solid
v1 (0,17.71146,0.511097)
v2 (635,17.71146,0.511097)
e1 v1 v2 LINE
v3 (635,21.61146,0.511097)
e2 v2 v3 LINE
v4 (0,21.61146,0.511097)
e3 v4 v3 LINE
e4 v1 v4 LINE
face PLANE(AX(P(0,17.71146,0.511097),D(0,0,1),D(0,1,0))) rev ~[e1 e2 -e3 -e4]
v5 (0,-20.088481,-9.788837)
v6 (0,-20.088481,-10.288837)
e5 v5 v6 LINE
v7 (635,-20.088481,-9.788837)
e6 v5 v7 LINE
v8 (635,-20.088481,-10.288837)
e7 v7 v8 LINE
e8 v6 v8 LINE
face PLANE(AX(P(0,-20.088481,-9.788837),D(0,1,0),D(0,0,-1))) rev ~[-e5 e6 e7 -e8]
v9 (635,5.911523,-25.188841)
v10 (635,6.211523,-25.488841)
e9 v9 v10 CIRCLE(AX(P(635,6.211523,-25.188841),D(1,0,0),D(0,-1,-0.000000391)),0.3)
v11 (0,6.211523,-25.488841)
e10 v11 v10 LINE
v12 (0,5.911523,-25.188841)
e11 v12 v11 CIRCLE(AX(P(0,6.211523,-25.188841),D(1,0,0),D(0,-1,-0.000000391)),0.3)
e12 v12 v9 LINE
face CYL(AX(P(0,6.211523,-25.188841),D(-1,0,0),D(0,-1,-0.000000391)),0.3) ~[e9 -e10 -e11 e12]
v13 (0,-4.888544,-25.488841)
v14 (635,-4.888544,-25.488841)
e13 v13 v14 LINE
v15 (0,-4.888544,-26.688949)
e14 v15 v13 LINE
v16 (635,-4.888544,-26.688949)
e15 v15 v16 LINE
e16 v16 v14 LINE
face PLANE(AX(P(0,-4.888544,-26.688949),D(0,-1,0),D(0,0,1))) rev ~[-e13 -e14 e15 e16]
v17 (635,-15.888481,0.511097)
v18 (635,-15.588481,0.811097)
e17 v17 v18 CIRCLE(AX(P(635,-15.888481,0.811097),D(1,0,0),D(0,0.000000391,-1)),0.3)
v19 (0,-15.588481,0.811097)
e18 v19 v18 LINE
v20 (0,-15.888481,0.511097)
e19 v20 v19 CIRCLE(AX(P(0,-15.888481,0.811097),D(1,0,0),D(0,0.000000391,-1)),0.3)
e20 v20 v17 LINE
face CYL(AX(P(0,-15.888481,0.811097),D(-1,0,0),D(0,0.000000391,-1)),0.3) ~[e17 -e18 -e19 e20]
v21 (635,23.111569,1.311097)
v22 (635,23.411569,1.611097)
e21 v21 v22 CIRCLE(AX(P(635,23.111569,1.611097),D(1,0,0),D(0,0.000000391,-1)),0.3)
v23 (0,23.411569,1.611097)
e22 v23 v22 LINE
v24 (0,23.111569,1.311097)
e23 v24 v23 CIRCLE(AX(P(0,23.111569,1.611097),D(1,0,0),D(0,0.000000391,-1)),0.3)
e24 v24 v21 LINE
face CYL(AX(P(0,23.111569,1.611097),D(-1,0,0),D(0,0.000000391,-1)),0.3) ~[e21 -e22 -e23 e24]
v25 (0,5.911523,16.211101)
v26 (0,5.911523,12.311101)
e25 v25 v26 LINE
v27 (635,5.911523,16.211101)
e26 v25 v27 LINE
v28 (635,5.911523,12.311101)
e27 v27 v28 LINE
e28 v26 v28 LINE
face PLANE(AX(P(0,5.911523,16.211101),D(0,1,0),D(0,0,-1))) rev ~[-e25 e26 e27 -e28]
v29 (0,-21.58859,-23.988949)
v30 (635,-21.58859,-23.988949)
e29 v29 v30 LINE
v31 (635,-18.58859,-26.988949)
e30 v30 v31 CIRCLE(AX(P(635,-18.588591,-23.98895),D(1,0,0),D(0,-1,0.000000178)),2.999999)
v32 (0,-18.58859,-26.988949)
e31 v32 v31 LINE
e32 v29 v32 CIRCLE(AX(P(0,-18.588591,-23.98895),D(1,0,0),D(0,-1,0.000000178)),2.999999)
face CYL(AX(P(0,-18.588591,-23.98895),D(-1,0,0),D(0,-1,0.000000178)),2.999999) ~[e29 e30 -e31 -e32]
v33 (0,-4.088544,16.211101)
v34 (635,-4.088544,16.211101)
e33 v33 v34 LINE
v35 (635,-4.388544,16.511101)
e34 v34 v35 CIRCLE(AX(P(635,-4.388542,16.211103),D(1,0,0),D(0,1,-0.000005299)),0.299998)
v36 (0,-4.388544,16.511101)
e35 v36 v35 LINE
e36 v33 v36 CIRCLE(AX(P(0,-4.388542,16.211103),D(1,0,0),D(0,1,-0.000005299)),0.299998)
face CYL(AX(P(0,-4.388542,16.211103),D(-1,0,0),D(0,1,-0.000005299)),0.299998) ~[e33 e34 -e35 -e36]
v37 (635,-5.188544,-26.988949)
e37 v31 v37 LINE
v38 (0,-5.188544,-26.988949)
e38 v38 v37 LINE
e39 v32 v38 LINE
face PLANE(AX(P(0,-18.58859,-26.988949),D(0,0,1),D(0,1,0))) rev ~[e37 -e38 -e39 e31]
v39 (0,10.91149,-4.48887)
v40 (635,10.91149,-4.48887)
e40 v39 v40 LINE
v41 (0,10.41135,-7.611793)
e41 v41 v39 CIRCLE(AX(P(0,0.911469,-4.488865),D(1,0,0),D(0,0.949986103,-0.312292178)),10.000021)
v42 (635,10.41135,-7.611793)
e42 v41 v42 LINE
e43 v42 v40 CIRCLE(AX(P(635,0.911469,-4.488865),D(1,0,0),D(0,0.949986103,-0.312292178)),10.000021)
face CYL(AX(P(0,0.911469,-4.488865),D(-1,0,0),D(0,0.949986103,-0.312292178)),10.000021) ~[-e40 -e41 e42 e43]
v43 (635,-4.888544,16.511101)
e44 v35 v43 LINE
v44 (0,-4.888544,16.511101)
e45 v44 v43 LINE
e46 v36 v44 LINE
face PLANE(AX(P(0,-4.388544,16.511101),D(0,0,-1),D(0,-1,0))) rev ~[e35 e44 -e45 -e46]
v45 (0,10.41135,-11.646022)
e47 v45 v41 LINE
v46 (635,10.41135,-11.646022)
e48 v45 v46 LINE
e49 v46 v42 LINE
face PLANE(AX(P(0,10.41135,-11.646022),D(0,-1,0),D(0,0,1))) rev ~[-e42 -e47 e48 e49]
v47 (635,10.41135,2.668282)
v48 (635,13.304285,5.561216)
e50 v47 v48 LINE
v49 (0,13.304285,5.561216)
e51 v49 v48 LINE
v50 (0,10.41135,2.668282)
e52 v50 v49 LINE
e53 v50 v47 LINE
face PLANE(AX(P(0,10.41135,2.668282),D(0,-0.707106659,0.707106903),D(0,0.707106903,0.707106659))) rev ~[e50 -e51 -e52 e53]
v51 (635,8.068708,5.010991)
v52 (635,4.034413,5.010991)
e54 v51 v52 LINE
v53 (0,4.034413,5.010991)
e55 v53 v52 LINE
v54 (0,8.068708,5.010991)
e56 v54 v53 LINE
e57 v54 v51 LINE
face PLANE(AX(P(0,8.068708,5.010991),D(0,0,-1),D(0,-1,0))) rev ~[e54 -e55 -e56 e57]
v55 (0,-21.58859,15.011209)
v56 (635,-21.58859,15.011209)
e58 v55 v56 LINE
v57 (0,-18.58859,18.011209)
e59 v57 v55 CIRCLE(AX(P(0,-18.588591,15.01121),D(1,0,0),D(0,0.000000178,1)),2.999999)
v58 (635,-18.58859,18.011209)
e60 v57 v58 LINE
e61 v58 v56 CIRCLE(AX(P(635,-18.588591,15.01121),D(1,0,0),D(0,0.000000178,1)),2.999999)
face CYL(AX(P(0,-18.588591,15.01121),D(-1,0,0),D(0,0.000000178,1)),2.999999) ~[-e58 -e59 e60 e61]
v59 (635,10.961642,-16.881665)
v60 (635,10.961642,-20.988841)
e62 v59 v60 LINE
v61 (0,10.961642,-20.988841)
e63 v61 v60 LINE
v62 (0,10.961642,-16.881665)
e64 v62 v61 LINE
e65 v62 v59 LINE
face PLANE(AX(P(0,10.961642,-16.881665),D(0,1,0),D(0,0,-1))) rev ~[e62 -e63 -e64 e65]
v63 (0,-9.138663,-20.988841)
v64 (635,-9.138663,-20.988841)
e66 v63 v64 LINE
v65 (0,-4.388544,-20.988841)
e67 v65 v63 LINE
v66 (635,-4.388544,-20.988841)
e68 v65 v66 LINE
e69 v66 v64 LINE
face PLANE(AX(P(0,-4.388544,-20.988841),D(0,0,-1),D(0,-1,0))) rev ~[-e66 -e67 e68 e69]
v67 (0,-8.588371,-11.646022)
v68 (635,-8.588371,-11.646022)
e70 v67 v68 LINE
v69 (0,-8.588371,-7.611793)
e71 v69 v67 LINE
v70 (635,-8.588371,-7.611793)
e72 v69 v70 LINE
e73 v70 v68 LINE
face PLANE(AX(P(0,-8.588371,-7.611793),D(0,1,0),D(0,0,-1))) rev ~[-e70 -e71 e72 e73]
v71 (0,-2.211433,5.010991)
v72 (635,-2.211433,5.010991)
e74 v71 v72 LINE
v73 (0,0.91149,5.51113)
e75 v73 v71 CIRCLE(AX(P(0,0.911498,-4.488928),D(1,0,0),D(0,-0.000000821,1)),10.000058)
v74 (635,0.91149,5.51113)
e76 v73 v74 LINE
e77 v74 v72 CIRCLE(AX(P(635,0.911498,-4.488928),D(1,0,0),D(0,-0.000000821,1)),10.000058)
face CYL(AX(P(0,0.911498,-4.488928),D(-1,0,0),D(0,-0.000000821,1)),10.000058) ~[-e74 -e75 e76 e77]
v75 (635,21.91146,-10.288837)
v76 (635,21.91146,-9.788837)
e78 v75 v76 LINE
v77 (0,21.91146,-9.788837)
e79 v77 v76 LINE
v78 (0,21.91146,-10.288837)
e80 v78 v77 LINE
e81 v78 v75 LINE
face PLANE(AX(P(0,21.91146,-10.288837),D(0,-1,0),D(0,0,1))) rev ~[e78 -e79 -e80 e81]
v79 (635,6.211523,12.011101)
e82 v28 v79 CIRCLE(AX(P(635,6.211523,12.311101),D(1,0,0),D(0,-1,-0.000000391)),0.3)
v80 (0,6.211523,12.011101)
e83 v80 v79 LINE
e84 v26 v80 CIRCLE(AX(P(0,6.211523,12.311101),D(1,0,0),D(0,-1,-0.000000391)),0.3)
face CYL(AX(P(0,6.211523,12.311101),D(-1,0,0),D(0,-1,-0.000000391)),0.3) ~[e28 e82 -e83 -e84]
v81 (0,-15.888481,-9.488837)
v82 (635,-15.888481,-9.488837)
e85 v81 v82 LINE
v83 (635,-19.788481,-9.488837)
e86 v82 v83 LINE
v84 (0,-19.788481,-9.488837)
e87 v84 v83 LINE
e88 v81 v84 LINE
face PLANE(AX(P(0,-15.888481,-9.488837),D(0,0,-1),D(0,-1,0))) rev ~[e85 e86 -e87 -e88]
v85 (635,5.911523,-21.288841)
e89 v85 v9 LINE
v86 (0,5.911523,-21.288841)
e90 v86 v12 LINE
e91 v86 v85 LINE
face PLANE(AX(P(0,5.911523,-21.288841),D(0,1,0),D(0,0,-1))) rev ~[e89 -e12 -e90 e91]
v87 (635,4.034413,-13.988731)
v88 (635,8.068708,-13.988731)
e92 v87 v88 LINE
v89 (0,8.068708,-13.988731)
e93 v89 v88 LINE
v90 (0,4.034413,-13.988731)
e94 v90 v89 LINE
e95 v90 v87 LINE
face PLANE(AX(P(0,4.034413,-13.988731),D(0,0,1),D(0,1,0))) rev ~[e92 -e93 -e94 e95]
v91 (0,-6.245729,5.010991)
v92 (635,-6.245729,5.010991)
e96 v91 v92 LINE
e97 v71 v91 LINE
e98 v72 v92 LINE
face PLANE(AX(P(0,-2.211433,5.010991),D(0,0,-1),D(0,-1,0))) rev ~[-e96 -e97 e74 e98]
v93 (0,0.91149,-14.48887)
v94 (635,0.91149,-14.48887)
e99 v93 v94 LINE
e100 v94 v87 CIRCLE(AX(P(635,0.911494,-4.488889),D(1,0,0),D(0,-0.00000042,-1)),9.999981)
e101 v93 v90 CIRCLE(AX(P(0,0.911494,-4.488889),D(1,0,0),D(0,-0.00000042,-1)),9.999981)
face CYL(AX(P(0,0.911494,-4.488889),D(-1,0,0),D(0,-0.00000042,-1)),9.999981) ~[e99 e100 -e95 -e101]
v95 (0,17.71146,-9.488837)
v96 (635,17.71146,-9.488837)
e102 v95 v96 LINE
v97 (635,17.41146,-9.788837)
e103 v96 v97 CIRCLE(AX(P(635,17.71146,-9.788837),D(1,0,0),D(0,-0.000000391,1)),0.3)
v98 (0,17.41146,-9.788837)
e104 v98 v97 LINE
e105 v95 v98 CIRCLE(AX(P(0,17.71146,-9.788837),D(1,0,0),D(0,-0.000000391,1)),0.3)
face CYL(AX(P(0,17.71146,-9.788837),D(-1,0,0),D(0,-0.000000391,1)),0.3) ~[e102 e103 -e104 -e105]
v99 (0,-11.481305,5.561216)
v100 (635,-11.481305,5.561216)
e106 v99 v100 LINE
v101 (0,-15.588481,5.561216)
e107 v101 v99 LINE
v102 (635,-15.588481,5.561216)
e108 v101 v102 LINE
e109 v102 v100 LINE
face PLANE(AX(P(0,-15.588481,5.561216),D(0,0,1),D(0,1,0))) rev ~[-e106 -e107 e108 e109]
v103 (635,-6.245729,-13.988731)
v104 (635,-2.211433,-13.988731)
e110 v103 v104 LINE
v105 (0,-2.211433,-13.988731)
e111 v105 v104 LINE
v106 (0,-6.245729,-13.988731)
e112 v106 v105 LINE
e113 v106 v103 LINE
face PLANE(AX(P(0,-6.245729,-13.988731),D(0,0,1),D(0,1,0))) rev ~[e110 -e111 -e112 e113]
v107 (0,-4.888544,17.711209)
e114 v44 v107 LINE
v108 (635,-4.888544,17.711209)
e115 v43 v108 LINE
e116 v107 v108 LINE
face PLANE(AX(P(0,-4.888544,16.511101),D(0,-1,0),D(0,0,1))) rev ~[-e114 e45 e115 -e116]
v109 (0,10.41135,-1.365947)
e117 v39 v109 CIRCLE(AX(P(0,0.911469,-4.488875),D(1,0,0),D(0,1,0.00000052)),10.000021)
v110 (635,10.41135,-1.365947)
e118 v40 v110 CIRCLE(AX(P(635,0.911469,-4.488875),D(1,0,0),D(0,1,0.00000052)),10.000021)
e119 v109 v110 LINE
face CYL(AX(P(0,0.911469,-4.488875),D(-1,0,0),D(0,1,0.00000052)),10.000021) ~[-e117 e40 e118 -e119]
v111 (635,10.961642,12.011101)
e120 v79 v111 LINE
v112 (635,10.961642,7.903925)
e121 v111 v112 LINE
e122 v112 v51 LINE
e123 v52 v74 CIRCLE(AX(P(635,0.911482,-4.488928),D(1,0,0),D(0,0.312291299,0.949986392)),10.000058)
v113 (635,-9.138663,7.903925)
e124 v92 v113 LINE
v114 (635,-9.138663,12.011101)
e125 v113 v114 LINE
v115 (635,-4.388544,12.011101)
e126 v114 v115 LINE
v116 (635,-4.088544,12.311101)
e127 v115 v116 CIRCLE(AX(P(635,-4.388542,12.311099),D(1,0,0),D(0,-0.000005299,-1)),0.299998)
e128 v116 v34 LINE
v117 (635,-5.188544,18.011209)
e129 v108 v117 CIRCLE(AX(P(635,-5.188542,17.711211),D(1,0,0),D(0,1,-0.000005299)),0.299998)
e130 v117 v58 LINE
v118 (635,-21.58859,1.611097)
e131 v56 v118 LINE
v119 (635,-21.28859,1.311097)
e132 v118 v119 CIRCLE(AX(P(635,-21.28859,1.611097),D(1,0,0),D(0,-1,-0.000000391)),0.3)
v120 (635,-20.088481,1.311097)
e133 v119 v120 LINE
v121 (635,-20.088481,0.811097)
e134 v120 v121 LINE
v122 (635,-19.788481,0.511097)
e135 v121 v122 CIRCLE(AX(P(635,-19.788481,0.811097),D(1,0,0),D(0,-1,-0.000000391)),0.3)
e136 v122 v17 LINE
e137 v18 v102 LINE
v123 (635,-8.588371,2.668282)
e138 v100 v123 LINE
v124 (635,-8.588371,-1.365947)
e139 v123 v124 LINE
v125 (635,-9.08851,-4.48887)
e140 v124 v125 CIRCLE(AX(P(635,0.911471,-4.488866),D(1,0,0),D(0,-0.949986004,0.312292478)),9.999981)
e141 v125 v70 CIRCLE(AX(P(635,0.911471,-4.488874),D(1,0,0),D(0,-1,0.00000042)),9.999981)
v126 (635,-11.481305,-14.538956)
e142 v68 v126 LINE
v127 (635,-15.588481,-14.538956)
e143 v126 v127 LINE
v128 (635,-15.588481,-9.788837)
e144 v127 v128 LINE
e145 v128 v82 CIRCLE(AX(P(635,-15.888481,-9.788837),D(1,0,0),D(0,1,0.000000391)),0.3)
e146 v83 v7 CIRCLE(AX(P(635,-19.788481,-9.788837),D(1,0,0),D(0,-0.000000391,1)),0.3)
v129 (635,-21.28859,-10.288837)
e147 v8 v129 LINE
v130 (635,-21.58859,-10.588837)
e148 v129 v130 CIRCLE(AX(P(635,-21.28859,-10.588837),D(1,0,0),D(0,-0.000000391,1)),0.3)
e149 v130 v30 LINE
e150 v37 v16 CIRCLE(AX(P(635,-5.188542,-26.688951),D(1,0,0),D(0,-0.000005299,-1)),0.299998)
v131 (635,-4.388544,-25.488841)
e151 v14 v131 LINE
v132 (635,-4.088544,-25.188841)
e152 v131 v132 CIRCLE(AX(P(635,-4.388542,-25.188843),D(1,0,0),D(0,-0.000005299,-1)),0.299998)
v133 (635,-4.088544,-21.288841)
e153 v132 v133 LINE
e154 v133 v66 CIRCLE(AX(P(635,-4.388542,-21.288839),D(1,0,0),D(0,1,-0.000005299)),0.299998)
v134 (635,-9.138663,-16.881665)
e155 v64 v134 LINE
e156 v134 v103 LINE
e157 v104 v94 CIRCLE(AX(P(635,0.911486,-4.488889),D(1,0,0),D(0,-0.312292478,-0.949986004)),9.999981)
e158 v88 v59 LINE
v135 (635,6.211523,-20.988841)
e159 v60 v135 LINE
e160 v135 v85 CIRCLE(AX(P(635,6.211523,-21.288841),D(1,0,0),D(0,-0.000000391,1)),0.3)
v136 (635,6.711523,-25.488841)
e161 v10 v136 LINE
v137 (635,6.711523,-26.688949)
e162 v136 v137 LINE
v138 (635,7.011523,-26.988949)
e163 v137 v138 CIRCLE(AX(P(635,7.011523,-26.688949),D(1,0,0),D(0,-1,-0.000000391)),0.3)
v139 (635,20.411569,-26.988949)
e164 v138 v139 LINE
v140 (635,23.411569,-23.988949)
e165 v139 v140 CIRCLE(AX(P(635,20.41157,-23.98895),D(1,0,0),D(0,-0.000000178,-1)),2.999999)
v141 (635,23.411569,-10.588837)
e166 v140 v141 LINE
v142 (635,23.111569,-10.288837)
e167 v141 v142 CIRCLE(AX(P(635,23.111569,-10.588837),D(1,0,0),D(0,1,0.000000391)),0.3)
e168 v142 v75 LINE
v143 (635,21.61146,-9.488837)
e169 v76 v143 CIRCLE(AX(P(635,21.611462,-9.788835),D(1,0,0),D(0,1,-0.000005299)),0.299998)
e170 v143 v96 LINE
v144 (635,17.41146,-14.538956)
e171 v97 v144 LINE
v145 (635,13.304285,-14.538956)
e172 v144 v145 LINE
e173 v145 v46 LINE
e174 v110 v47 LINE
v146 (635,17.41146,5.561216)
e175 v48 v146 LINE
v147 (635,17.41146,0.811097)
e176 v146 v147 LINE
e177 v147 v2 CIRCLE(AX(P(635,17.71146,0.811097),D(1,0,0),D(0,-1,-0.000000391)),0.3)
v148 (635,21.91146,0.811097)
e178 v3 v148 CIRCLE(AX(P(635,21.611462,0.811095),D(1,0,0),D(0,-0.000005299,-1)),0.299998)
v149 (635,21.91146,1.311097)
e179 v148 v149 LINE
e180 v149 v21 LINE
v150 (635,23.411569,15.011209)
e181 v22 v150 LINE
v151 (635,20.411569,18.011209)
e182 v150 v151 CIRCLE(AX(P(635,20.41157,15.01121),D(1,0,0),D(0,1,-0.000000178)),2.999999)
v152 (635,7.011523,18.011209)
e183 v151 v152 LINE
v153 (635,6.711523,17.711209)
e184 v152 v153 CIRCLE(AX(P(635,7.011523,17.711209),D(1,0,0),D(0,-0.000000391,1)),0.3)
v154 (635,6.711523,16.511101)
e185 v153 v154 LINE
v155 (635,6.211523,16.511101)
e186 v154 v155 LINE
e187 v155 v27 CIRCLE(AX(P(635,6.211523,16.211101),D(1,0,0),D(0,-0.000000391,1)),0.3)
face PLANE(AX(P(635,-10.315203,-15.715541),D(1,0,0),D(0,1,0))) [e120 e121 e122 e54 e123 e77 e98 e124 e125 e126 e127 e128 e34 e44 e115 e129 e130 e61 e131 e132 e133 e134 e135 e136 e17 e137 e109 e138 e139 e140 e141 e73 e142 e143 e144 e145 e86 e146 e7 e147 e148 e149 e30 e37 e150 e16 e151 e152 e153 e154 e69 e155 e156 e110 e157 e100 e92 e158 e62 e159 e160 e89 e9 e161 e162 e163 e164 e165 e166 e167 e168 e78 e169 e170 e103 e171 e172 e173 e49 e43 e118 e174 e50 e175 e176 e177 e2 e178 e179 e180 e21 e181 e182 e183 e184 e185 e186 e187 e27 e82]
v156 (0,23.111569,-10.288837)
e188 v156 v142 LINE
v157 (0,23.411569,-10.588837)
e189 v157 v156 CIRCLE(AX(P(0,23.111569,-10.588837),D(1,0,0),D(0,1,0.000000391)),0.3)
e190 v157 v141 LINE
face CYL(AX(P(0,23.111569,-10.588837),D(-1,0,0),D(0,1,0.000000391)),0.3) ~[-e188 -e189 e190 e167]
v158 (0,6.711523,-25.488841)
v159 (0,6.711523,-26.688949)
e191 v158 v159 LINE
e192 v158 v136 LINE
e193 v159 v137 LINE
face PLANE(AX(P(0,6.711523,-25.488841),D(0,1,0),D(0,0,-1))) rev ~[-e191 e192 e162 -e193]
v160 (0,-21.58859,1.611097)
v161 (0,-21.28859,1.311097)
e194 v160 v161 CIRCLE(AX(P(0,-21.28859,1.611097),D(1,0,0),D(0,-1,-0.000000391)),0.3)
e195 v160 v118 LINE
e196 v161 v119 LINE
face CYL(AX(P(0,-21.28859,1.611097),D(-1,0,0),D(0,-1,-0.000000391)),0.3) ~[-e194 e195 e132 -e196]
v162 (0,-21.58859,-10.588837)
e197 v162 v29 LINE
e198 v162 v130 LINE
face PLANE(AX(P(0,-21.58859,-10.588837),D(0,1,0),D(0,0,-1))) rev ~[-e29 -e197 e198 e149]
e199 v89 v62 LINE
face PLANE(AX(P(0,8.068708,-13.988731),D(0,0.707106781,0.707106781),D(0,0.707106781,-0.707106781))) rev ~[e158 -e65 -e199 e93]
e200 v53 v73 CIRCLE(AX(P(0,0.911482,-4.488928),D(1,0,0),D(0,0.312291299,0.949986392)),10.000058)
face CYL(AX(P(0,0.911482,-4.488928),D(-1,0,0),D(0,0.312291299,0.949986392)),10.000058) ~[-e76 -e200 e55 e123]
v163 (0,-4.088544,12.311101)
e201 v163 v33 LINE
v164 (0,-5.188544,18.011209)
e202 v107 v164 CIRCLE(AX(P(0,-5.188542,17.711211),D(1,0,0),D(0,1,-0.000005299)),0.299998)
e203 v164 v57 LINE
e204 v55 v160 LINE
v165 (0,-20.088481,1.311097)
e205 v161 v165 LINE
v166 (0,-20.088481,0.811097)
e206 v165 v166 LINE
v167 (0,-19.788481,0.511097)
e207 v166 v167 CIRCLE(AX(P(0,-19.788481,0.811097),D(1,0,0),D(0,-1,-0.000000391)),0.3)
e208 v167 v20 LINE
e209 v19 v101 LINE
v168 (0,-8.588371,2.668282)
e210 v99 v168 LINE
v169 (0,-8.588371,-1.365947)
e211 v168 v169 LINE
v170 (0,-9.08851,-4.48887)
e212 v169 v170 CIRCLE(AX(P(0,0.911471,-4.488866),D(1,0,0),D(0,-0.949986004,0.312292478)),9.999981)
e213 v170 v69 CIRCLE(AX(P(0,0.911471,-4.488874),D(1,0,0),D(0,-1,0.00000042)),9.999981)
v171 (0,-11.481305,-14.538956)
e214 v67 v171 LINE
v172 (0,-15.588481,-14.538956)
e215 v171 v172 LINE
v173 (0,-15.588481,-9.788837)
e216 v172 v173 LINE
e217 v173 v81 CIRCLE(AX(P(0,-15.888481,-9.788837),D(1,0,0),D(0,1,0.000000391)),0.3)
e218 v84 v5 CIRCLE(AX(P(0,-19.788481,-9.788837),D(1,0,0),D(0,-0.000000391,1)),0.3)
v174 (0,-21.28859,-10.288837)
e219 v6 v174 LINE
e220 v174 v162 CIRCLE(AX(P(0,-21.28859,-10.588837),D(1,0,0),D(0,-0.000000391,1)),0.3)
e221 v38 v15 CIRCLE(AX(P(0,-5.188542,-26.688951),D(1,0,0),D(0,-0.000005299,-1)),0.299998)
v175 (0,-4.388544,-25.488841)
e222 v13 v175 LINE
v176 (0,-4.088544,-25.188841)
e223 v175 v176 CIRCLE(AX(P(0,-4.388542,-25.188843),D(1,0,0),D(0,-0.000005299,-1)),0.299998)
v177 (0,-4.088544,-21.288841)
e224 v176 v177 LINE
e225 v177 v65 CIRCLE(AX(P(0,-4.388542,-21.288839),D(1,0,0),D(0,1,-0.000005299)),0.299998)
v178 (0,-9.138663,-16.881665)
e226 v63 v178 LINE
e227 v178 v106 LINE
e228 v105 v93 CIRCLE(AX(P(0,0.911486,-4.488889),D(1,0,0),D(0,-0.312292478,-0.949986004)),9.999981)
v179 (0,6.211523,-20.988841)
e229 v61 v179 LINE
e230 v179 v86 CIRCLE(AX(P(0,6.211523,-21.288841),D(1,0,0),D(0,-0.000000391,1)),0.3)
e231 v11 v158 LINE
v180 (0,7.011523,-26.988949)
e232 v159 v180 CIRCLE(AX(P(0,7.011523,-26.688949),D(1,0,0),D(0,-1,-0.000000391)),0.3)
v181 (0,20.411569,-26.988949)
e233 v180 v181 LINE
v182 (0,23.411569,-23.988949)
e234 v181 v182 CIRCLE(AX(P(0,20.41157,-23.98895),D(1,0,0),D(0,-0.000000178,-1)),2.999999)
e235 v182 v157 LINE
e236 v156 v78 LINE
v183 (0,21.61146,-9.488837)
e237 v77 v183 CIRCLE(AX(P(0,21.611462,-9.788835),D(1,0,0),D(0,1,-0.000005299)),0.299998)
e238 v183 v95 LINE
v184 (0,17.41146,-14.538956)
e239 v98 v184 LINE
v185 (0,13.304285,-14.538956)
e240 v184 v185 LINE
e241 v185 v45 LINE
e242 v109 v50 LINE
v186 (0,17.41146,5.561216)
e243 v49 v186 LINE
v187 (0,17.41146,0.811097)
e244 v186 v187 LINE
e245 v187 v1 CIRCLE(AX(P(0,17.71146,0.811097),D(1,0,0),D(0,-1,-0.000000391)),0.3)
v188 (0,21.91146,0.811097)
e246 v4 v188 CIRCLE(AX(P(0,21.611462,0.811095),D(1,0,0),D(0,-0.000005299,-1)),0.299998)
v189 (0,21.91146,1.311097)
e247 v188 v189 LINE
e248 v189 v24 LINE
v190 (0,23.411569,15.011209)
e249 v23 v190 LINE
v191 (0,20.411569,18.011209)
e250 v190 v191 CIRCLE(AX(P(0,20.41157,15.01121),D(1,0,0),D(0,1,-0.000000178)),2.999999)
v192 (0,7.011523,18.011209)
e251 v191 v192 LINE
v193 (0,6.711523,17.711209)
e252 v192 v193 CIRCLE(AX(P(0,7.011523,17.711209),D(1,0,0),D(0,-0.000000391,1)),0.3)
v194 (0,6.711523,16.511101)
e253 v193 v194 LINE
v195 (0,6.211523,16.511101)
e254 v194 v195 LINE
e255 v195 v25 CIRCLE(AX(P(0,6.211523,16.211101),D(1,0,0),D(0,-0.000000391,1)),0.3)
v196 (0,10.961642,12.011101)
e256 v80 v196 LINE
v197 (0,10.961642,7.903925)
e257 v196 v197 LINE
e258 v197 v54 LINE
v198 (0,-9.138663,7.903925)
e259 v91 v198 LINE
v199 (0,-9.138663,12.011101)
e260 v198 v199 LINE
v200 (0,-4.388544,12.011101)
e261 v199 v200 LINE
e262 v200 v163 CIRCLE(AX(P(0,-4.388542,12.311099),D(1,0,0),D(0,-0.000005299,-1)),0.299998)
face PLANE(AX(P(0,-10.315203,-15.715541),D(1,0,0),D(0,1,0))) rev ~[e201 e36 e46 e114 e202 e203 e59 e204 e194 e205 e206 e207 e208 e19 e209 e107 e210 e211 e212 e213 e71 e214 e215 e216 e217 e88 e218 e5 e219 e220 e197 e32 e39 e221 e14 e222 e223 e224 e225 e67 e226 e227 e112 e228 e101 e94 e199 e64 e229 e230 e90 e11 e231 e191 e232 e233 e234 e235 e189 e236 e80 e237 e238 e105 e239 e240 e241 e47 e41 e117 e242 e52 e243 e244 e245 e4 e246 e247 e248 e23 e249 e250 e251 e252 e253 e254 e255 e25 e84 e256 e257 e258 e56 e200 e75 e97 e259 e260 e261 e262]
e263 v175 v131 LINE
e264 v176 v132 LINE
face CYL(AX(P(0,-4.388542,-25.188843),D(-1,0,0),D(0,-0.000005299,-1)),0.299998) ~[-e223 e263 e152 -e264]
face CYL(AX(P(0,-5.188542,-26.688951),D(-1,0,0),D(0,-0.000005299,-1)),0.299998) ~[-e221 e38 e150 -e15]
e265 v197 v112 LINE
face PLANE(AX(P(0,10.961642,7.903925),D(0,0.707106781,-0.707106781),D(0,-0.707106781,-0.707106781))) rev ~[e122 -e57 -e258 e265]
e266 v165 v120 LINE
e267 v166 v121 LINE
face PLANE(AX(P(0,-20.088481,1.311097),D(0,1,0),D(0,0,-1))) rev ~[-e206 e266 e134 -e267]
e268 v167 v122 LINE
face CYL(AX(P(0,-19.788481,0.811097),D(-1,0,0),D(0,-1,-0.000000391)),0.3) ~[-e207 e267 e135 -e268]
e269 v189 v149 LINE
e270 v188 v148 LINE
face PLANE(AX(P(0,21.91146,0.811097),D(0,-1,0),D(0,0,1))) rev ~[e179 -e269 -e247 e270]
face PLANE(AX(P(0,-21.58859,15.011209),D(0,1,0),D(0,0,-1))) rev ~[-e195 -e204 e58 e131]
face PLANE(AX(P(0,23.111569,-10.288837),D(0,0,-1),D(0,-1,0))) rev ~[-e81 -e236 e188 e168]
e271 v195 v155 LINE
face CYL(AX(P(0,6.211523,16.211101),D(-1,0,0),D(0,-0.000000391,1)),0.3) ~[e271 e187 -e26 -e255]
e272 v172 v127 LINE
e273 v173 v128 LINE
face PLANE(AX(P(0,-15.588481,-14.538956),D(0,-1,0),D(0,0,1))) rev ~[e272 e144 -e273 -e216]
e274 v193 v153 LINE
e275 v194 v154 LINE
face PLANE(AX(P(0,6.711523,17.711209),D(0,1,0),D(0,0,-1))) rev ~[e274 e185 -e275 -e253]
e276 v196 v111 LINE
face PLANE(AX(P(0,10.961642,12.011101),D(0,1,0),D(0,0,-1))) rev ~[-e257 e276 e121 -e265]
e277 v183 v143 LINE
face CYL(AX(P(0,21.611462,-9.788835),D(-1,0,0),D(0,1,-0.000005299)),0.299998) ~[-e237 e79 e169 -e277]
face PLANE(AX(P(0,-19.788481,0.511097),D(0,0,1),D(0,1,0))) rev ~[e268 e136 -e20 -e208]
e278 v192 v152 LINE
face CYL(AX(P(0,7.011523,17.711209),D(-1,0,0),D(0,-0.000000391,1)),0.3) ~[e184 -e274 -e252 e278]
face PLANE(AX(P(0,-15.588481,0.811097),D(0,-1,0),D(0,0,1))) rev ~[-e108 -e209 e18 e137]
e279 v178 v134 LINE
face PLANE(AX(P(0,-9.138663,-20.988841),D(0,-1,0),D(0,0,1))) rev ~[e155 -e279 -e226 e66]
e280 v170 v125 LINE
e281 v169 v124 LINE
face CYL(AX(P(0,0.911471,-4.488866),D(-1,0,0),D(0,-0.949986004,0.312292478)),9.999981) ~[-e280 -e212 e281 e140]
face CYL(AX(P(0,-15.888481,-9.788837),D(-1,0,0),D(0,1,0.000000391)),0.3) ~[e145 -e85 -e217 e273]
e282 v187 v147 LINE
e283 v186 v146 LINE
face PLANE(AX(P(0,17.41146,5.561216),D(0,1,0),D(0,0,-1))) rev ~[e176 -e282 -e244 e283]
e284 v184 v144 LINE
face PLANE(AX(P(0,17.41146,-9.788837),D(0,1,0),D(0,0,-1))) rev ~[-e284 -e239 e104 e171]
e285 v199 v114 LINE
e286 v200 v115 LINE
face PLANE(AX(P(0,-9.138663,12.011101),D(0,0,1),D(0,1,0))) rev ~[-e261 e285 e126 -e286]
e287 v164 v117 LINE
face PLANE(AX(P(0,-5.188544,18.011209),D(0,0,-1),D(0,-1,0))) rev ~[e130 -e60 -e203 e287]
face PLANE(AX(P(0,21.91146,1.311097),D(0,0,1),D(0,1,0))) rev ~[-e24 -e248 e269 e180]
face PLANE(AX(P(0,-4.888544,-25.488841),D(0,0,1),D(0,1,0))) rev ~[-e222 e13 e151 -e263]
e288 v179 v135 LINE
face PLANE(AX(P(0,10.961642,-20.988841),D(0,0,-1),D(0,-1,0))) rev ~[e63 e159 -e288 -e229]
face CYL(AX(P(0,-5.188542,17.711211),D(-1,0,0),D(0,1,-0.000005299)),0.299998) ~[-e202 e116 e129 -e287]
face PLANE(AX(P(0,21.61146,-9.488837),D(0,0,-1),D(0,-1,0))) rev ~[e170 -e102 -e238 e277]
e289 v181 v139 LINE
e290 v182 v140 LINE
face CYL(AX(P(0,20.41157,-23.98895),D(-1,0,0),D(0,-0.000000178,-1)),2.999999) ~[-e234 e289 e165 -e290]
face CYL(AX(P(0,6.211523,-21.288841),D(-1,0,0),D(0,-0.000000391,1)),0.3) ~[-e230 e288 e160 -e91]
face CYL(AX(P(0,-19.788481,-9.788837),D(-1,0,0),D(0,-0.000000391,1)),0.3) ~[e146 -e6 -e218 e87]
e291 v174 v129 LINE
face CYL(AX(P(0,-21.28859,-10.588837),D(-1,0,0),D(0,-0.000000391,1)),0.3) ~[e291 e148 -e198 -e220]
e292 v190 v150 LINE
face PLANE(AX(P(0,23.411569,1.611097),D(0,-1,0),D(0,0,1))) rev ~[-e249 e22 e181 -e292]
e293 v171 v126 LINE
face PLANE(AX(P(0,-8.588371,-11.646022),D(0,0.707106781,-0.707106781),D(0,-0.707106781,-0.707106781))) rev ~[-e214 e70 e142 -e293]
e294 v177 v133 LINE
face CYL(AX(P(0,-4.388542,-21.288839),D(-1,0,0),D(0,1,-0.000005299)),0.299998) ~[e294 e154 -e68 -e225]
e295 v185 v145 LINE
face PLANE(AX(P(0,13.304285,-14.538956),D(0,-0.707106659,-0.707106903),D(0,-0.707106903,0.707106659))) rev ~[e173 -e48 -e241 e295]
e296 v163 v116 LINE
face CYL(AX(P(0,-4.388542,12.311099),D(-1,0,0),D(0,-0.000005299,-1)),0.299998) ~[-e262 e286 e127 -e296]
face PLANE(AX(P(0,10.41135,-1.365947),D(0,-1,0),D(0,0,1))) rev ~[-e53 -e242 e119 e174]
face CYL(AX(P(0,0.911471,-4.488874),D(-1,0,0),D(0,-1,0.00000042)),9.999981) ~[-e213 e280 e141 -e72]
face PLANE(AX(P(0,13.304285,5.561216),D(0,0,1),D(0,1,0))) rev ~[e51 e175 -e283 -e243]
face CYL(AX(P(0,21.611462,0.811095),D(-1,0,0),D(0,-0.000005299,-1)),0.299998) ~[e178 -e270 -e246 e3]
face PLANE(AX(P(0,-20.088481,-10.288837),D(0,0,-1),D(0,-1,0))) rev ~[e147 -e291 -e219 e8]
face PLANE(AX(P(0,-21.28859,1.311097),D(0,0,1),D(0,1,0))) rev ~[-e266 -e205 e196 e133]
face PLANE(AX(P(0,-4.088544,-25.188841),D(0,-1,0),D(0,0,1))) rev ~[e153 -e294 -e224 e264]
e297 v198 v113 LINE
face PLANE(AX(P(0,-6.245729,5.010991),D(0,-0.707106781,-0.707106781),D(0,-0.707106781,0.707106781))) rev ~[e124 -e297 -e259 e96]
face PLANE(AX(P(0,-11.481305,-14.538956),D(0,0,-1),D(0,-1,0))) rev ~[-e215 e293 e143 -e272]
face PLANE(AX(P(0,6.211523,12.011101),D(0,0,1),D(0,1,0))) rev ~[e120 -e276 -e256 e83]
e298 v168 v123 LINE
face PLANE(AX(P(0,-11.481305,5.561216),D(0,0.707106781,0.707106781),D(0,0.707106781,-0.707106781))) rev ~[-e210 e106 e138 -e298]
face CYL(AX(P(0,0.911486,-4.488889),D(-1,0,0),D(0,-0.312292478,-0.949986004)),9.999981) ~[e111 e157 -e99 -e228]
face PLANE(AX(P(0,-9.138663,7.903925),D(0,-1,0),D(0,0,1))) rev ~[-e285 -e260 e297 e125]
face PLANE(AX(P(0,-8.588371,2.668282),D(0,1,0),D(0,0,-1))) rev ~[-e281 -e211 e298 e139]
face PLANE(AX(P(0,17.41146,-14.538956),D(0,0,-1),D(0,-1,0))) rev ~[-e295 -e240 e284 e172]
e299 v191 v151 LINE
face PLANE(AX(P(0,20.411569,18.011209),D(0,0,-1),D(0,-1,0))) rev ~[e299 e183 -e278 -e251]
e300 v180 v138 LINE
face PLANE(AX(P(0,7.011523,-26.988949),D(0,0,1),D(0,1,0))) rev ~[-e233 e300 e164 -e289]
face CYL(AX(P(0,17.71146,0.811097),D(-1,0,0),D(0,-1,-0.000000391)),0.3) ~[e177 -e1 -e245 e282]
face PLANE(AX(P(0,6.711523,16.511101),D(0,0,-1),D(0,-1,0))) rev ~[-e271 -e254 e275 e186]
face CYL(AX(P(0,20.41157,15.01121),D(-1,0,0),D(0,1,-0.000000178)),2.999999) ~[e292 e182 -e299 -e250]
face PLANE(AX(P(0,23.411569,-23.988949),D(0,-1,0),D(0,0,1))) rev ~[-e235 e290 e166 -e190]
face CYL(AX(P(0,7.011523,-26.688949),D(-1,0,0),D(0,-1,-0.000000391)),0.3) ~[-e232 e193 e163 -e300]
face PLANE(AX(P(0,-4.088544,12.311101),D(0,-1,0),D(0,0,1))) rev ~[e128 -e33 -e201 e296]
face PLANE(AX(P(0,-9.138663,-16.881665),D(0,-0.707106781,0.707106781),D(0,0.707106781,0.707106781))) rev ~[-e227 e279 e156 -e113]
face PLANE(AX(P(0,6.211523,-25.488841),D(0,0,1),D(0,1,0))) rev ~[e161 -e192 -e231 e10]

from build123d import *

# Parameters (mm, degrees)
F1_DEPTH = 635


with BuildPart() as f1:
    # F0 (on Right) → F1 (new body)
    with BuildSketch(Plane.YZ):
        with BuildLine():
            Line((-20.088481, -9.788837), (-20.088481, -10.288837))
            Line((-20.088481, -10.288837), (-21.28859, -10.288837))
            ThreePointArc((-21.28859, -10.288837), (-21.500722, -10.376705), (-21.58859, -10.588837))
            Line((-21.58859, -10.588837), (-21.58859, -23.988949))
            ThreePointArc((-21.58859, -23.988949), (-20.70991, -26.11027), (-18.58859, -26.988949))
            Line((-18.58859, -26.988949), (-5.188544, -26.988949))
            ThreePointArc((-5.188544, -26.988949), (-4.976411, -26.901081), (-4.888544, -26.688949))
            Line((-4.888544, -26.688949), (-4.888544, -25.488841))
            Line((-4.888544, -25.488841), (-4.388544, -25.488841))
            ThreePointArc((-4.388544, -25.488841), (-4.176411, -25.400973), (-4.088544, -25.188841))
            Line((-4.088544, -25.188841), (-4.088544, -21.288841))
            ThreePointArc((-4.088544, -21.288841), (-4.176411, -21.076709), (-4.388544, -20.988841))
            Line((-4.388544, -20.988841), (-9.138663, -20.988841))
            Line((-9.138663, -20.988841), (-9.138663, -16.881665))
            Line((-9.138663, -16.881665), (-6.245729, -13.988731))
            Line((-6.245729, -13.988731), (-2.211433, -13.988731))
            ThreePointArc((-2.211433, -13.988731), (-0.669869, -14.363044), (0.91149, -14.48887))
            Line((0.91149, -14.48887), (0.91149, -4.48887))
            Line((0.91149, -4.48887), (-9.08851, -4.48887))
            ThreePointArc((-9.08851, -4.48887), (-8.962684, -6.070229), (-8.588371, -7.611793))
            Line((-8.588371, -7.611793), (-8.588371, -11.646022))
            Line((-8.588371, -11.646022), (-11.481305, -14.538956))
            Line((-11.481305, -14.538956), (-15.588481, -14.538956))
            Line((-15.588481, -14.538956), (-15.588481, -9.788837))
            ThreePointArc((-15.588481, -9.788837), (-15.676349, -9.576705), (-15.888481, -9.488837))
            Line((-15.888481, -9.488837), (-19.788481, -9.488837))
            ThreePointArc((-19.788481, -9.488837), (-20.000613, -9.576705), (-20.088481, -9.788837))
        make_face()
        with BuildLine():
            ThreePointArc((-8.588371, -1.365947), (-8.962684, -2.907511), (-9.08851, -4.48887))
            Line((-9.08851, -4.48887), (0.91149, -4.48887))
            Line((0.91149, -4.48887), (0.91149, 5.51113))
            ThreePointArc((0.91149, 5.51113), (-0.669869, 5.385303), (-2.211433, 5.010991))
            Line((-2.211433, 5.010991), (-6.245729, 5.010991))
            Line((-6.245729, 5.010991), (-9.138663, 7.903925))
            Line((-9.138663, 7.903925), (-9.138663, 12.011101))
            Line((-9.138663, 12.011101), (-4.388544, 12.011101))
            ThreePointArc((-4.388544, 12.011101), (-4.176411, 12.098969), (-4.088544, 12.311101))
            Line((-4.088544, 12.311101), (-4.088544, 16.211101))
            ThreePointArc((-4.088544, 16.211101), (-4.176411, 16.423233), (-4.388544, 16.511101))
            Line((-4.388544, 16.511101), (-4.888544, 16.511101))
            Line((-4.888544, 16.511101), (-4.888544, 17.711209))
            ThreePointArc((-4.888544, 17.711209), (-4.976411, 17.923341), (-5.188544, 18.011209))
            Line((-5.188544, 18.011209), (-18.58859, 18.011209))
            ThreePointArc((-18.58859, 18.011209), (-20.70991, 17.13253), (-21.58859, 15.011209))
            Line((-21.58859, 15.011209), (-21.58859, 1.611097))
            ThreePointArc((-21.58859, 1.611097), (-21.500722, 1.398965), (-21.28859, 1.311097))
            Line((-21.28859, 1.311097), (-20.088481, 1.311097))
            Line((-20.088481, 1.311097), (-20.088481, 0.811097))
            ThreePointArc((-20.088481, 0.811097), (-20.000613, 0.598965), (-19.788481, 0.511097))
            Line((-19.788481, 0.511097), (-15.888481, 0.511097))
            ThreePointArc((-15.888481, 0.511097), (-15.676349, 0.598965), (-15.588481, 0.811097))
            Line((-15.588481, 0.811097), (-15.588481, 5.561216))
            Line((-15.588481, 5.561216), (-11.481305, 5.561216))
            Line((-11.481305, 5.561216), (-8.588371, 2.668282))
            Line((-8.588371, 2.668282), (-8.588371, -1.365947))
        make_face()
        with BuildLine():
            Line((0.91149, 5.51113), (0.91149, -4.48887))
            Line((0.91149, -4.48887), (10.91149, -4.48887))
            ThreePointArc((10.91149, -4.48887), (10.785663, -2.907511), (10.41135, -1.365947))
            Line((10.41135, -1.365947), (10.41135, 2.668282))
            Line((10.41135, 2.668282), (13.304285, 5.561216))
            Line((13.304285, 5.561216), (14.016842, 5.561216))
            Line((14.016842, 5.561216), (17.41146, 5.561216))
            Line((17.41146, 5.561216), (17.41146, 0.811097))
            ThreePointArc((17.41146, 0.811097), (17.499328, 0.598965), (17.71146, 0.511097))
            Line((17.71146, 0.511097), (21.61146, 0.511097))
            ThreePointArc((21.61146, 0.511097), (21.823593, 0.598965), (21.91146, 0.811097))
            Line((21.91146, 0.811097), (21.91146, 1.311097))
            Line((21.91146, 1.311097), (23.111569, 1.311097))
            ThreePointArc((23.111569, 1.311097), (23.323701, 1.398965), (23.411569, 1.611097))
            Line((23.411569, 1.611097), (23.411569, 15.011209))
            ThreePointArc((23.411569, 15.011209), (22.532889, 17.13253), (20.411569, 18.011209))
            Line((20.411569, 18.011209), (7.011523, 18.011209))
            ThreePointArc((7.011523, 18.011209), (6.799391, 17.923341), (6.711523, 17.711209))
            Line((6.711523, 17.711209), (6.711523, 16.511101))
            Line((6.711523, 16.511101), (6.211523, 16.511101))
            ThreePointArc((6.211523, 16.511101), (5.999391, 16.423233), (5.911523, 16.211101))
            Line((5.911523, 16.211101), (5.911523, 12.311101))
            ThreePointArc((5.911523, 12.311101), (5.999391, 12.098969), (6.211523, 12.011101))
            Line((6.211523, 12.011101), (10.961642, 12.011101))
            Line((10.961642, 12.011101), (10.961642, 7.903925))
            Line((10.961642, 7.903925), (8.068708, 5.010991))
            Line((8.068708, 5.010991), (4.034413, 5.010991))
            ThreePointArc((4.034413, 5.010991), (2.492849, 5.385303), (0.91149, 5.51113))
        make_face()
        with BuildLine():
            Line((10.91149, -4.48887), (0.91149, -4.48887))
            Line((0.91149, -4.48887), (0.91149, -14.48887))
            ThreePointArc((0.91149, -14.48887), (2.492849, -14.363044), (4.034413, -13.988731))
            Line((4.034413, -13.988731), (8.068708, -13.988731))
            Line((8.068708, -13.988731), (10.961642, -16.881665))
            Line((10.961642, -16.881665), (10.961642, -20.988841))
            Line((10.961642, -20.988841), (6.211523, -20.988841))
            ThreePointArc((6.211523, -20.988841), (5.999391, -21.076709), (5.911523, -21.288841))
            Line((5.911523, -21.288841), (5.911523, -25.188841))
            ThreePointArc((5.911523, -25.188841), (5.999391, -25.400973), (6.211523, -25.488841))
            Line((6.211523, -25.488841), (6.711523, -25.488841))
            Line((6.711523, -25.488841), (6.711523, -26.688949))
            ThreePointArc((6.711523, -26.688949), (6.799391, -26.901081), (7.011523, -26.988949))
            Line((7.011523, -26.988949), (20.411569, -26.988949))
            ThreePointArc((20.411569, -26.988949), (22.532889, -26.11027), (23.411569, -23.988949))
            Line((23.411569, -23.988949), (23.411569, -10.588837))
            ThreePointArc((23.411569, -10.588837), (23.323701, -10.376705), (23.111569, -10.288837))
            Line((23.111569, -10.288837), (21.91146, -10.288837))
            Line((21.91146, -10.288837), (21.91146, -9.788837))
            ThreePointArc((21.91146, -9.788837), (21.823593, -9.576705), (21.61146, -9.488837))
            Line((21.61146, -9.488837), (17.71146, -9.488837))
            ThreePointArc((17.71146, -9.488837), (17.499328, -9.576705), (17.41146, -9.788837))
            Line((17.41146, -9.788837), (17.41146, -14.538956))
            Line((17.41146, -14.538956), (13.304285, -14.538956))
            Line((13.304285, -14.538956), (10.41135, -11.646022))
            Line((10.41135, -11.646022), (10.41135, -7.611793))
            ThreePointArc((10.41135, -7.611793), (10.785663, -6.070229), (10.91149, -4.48887))
        make_face()
    extrude(amount=F1_DEPTH)


solid = f1.part
